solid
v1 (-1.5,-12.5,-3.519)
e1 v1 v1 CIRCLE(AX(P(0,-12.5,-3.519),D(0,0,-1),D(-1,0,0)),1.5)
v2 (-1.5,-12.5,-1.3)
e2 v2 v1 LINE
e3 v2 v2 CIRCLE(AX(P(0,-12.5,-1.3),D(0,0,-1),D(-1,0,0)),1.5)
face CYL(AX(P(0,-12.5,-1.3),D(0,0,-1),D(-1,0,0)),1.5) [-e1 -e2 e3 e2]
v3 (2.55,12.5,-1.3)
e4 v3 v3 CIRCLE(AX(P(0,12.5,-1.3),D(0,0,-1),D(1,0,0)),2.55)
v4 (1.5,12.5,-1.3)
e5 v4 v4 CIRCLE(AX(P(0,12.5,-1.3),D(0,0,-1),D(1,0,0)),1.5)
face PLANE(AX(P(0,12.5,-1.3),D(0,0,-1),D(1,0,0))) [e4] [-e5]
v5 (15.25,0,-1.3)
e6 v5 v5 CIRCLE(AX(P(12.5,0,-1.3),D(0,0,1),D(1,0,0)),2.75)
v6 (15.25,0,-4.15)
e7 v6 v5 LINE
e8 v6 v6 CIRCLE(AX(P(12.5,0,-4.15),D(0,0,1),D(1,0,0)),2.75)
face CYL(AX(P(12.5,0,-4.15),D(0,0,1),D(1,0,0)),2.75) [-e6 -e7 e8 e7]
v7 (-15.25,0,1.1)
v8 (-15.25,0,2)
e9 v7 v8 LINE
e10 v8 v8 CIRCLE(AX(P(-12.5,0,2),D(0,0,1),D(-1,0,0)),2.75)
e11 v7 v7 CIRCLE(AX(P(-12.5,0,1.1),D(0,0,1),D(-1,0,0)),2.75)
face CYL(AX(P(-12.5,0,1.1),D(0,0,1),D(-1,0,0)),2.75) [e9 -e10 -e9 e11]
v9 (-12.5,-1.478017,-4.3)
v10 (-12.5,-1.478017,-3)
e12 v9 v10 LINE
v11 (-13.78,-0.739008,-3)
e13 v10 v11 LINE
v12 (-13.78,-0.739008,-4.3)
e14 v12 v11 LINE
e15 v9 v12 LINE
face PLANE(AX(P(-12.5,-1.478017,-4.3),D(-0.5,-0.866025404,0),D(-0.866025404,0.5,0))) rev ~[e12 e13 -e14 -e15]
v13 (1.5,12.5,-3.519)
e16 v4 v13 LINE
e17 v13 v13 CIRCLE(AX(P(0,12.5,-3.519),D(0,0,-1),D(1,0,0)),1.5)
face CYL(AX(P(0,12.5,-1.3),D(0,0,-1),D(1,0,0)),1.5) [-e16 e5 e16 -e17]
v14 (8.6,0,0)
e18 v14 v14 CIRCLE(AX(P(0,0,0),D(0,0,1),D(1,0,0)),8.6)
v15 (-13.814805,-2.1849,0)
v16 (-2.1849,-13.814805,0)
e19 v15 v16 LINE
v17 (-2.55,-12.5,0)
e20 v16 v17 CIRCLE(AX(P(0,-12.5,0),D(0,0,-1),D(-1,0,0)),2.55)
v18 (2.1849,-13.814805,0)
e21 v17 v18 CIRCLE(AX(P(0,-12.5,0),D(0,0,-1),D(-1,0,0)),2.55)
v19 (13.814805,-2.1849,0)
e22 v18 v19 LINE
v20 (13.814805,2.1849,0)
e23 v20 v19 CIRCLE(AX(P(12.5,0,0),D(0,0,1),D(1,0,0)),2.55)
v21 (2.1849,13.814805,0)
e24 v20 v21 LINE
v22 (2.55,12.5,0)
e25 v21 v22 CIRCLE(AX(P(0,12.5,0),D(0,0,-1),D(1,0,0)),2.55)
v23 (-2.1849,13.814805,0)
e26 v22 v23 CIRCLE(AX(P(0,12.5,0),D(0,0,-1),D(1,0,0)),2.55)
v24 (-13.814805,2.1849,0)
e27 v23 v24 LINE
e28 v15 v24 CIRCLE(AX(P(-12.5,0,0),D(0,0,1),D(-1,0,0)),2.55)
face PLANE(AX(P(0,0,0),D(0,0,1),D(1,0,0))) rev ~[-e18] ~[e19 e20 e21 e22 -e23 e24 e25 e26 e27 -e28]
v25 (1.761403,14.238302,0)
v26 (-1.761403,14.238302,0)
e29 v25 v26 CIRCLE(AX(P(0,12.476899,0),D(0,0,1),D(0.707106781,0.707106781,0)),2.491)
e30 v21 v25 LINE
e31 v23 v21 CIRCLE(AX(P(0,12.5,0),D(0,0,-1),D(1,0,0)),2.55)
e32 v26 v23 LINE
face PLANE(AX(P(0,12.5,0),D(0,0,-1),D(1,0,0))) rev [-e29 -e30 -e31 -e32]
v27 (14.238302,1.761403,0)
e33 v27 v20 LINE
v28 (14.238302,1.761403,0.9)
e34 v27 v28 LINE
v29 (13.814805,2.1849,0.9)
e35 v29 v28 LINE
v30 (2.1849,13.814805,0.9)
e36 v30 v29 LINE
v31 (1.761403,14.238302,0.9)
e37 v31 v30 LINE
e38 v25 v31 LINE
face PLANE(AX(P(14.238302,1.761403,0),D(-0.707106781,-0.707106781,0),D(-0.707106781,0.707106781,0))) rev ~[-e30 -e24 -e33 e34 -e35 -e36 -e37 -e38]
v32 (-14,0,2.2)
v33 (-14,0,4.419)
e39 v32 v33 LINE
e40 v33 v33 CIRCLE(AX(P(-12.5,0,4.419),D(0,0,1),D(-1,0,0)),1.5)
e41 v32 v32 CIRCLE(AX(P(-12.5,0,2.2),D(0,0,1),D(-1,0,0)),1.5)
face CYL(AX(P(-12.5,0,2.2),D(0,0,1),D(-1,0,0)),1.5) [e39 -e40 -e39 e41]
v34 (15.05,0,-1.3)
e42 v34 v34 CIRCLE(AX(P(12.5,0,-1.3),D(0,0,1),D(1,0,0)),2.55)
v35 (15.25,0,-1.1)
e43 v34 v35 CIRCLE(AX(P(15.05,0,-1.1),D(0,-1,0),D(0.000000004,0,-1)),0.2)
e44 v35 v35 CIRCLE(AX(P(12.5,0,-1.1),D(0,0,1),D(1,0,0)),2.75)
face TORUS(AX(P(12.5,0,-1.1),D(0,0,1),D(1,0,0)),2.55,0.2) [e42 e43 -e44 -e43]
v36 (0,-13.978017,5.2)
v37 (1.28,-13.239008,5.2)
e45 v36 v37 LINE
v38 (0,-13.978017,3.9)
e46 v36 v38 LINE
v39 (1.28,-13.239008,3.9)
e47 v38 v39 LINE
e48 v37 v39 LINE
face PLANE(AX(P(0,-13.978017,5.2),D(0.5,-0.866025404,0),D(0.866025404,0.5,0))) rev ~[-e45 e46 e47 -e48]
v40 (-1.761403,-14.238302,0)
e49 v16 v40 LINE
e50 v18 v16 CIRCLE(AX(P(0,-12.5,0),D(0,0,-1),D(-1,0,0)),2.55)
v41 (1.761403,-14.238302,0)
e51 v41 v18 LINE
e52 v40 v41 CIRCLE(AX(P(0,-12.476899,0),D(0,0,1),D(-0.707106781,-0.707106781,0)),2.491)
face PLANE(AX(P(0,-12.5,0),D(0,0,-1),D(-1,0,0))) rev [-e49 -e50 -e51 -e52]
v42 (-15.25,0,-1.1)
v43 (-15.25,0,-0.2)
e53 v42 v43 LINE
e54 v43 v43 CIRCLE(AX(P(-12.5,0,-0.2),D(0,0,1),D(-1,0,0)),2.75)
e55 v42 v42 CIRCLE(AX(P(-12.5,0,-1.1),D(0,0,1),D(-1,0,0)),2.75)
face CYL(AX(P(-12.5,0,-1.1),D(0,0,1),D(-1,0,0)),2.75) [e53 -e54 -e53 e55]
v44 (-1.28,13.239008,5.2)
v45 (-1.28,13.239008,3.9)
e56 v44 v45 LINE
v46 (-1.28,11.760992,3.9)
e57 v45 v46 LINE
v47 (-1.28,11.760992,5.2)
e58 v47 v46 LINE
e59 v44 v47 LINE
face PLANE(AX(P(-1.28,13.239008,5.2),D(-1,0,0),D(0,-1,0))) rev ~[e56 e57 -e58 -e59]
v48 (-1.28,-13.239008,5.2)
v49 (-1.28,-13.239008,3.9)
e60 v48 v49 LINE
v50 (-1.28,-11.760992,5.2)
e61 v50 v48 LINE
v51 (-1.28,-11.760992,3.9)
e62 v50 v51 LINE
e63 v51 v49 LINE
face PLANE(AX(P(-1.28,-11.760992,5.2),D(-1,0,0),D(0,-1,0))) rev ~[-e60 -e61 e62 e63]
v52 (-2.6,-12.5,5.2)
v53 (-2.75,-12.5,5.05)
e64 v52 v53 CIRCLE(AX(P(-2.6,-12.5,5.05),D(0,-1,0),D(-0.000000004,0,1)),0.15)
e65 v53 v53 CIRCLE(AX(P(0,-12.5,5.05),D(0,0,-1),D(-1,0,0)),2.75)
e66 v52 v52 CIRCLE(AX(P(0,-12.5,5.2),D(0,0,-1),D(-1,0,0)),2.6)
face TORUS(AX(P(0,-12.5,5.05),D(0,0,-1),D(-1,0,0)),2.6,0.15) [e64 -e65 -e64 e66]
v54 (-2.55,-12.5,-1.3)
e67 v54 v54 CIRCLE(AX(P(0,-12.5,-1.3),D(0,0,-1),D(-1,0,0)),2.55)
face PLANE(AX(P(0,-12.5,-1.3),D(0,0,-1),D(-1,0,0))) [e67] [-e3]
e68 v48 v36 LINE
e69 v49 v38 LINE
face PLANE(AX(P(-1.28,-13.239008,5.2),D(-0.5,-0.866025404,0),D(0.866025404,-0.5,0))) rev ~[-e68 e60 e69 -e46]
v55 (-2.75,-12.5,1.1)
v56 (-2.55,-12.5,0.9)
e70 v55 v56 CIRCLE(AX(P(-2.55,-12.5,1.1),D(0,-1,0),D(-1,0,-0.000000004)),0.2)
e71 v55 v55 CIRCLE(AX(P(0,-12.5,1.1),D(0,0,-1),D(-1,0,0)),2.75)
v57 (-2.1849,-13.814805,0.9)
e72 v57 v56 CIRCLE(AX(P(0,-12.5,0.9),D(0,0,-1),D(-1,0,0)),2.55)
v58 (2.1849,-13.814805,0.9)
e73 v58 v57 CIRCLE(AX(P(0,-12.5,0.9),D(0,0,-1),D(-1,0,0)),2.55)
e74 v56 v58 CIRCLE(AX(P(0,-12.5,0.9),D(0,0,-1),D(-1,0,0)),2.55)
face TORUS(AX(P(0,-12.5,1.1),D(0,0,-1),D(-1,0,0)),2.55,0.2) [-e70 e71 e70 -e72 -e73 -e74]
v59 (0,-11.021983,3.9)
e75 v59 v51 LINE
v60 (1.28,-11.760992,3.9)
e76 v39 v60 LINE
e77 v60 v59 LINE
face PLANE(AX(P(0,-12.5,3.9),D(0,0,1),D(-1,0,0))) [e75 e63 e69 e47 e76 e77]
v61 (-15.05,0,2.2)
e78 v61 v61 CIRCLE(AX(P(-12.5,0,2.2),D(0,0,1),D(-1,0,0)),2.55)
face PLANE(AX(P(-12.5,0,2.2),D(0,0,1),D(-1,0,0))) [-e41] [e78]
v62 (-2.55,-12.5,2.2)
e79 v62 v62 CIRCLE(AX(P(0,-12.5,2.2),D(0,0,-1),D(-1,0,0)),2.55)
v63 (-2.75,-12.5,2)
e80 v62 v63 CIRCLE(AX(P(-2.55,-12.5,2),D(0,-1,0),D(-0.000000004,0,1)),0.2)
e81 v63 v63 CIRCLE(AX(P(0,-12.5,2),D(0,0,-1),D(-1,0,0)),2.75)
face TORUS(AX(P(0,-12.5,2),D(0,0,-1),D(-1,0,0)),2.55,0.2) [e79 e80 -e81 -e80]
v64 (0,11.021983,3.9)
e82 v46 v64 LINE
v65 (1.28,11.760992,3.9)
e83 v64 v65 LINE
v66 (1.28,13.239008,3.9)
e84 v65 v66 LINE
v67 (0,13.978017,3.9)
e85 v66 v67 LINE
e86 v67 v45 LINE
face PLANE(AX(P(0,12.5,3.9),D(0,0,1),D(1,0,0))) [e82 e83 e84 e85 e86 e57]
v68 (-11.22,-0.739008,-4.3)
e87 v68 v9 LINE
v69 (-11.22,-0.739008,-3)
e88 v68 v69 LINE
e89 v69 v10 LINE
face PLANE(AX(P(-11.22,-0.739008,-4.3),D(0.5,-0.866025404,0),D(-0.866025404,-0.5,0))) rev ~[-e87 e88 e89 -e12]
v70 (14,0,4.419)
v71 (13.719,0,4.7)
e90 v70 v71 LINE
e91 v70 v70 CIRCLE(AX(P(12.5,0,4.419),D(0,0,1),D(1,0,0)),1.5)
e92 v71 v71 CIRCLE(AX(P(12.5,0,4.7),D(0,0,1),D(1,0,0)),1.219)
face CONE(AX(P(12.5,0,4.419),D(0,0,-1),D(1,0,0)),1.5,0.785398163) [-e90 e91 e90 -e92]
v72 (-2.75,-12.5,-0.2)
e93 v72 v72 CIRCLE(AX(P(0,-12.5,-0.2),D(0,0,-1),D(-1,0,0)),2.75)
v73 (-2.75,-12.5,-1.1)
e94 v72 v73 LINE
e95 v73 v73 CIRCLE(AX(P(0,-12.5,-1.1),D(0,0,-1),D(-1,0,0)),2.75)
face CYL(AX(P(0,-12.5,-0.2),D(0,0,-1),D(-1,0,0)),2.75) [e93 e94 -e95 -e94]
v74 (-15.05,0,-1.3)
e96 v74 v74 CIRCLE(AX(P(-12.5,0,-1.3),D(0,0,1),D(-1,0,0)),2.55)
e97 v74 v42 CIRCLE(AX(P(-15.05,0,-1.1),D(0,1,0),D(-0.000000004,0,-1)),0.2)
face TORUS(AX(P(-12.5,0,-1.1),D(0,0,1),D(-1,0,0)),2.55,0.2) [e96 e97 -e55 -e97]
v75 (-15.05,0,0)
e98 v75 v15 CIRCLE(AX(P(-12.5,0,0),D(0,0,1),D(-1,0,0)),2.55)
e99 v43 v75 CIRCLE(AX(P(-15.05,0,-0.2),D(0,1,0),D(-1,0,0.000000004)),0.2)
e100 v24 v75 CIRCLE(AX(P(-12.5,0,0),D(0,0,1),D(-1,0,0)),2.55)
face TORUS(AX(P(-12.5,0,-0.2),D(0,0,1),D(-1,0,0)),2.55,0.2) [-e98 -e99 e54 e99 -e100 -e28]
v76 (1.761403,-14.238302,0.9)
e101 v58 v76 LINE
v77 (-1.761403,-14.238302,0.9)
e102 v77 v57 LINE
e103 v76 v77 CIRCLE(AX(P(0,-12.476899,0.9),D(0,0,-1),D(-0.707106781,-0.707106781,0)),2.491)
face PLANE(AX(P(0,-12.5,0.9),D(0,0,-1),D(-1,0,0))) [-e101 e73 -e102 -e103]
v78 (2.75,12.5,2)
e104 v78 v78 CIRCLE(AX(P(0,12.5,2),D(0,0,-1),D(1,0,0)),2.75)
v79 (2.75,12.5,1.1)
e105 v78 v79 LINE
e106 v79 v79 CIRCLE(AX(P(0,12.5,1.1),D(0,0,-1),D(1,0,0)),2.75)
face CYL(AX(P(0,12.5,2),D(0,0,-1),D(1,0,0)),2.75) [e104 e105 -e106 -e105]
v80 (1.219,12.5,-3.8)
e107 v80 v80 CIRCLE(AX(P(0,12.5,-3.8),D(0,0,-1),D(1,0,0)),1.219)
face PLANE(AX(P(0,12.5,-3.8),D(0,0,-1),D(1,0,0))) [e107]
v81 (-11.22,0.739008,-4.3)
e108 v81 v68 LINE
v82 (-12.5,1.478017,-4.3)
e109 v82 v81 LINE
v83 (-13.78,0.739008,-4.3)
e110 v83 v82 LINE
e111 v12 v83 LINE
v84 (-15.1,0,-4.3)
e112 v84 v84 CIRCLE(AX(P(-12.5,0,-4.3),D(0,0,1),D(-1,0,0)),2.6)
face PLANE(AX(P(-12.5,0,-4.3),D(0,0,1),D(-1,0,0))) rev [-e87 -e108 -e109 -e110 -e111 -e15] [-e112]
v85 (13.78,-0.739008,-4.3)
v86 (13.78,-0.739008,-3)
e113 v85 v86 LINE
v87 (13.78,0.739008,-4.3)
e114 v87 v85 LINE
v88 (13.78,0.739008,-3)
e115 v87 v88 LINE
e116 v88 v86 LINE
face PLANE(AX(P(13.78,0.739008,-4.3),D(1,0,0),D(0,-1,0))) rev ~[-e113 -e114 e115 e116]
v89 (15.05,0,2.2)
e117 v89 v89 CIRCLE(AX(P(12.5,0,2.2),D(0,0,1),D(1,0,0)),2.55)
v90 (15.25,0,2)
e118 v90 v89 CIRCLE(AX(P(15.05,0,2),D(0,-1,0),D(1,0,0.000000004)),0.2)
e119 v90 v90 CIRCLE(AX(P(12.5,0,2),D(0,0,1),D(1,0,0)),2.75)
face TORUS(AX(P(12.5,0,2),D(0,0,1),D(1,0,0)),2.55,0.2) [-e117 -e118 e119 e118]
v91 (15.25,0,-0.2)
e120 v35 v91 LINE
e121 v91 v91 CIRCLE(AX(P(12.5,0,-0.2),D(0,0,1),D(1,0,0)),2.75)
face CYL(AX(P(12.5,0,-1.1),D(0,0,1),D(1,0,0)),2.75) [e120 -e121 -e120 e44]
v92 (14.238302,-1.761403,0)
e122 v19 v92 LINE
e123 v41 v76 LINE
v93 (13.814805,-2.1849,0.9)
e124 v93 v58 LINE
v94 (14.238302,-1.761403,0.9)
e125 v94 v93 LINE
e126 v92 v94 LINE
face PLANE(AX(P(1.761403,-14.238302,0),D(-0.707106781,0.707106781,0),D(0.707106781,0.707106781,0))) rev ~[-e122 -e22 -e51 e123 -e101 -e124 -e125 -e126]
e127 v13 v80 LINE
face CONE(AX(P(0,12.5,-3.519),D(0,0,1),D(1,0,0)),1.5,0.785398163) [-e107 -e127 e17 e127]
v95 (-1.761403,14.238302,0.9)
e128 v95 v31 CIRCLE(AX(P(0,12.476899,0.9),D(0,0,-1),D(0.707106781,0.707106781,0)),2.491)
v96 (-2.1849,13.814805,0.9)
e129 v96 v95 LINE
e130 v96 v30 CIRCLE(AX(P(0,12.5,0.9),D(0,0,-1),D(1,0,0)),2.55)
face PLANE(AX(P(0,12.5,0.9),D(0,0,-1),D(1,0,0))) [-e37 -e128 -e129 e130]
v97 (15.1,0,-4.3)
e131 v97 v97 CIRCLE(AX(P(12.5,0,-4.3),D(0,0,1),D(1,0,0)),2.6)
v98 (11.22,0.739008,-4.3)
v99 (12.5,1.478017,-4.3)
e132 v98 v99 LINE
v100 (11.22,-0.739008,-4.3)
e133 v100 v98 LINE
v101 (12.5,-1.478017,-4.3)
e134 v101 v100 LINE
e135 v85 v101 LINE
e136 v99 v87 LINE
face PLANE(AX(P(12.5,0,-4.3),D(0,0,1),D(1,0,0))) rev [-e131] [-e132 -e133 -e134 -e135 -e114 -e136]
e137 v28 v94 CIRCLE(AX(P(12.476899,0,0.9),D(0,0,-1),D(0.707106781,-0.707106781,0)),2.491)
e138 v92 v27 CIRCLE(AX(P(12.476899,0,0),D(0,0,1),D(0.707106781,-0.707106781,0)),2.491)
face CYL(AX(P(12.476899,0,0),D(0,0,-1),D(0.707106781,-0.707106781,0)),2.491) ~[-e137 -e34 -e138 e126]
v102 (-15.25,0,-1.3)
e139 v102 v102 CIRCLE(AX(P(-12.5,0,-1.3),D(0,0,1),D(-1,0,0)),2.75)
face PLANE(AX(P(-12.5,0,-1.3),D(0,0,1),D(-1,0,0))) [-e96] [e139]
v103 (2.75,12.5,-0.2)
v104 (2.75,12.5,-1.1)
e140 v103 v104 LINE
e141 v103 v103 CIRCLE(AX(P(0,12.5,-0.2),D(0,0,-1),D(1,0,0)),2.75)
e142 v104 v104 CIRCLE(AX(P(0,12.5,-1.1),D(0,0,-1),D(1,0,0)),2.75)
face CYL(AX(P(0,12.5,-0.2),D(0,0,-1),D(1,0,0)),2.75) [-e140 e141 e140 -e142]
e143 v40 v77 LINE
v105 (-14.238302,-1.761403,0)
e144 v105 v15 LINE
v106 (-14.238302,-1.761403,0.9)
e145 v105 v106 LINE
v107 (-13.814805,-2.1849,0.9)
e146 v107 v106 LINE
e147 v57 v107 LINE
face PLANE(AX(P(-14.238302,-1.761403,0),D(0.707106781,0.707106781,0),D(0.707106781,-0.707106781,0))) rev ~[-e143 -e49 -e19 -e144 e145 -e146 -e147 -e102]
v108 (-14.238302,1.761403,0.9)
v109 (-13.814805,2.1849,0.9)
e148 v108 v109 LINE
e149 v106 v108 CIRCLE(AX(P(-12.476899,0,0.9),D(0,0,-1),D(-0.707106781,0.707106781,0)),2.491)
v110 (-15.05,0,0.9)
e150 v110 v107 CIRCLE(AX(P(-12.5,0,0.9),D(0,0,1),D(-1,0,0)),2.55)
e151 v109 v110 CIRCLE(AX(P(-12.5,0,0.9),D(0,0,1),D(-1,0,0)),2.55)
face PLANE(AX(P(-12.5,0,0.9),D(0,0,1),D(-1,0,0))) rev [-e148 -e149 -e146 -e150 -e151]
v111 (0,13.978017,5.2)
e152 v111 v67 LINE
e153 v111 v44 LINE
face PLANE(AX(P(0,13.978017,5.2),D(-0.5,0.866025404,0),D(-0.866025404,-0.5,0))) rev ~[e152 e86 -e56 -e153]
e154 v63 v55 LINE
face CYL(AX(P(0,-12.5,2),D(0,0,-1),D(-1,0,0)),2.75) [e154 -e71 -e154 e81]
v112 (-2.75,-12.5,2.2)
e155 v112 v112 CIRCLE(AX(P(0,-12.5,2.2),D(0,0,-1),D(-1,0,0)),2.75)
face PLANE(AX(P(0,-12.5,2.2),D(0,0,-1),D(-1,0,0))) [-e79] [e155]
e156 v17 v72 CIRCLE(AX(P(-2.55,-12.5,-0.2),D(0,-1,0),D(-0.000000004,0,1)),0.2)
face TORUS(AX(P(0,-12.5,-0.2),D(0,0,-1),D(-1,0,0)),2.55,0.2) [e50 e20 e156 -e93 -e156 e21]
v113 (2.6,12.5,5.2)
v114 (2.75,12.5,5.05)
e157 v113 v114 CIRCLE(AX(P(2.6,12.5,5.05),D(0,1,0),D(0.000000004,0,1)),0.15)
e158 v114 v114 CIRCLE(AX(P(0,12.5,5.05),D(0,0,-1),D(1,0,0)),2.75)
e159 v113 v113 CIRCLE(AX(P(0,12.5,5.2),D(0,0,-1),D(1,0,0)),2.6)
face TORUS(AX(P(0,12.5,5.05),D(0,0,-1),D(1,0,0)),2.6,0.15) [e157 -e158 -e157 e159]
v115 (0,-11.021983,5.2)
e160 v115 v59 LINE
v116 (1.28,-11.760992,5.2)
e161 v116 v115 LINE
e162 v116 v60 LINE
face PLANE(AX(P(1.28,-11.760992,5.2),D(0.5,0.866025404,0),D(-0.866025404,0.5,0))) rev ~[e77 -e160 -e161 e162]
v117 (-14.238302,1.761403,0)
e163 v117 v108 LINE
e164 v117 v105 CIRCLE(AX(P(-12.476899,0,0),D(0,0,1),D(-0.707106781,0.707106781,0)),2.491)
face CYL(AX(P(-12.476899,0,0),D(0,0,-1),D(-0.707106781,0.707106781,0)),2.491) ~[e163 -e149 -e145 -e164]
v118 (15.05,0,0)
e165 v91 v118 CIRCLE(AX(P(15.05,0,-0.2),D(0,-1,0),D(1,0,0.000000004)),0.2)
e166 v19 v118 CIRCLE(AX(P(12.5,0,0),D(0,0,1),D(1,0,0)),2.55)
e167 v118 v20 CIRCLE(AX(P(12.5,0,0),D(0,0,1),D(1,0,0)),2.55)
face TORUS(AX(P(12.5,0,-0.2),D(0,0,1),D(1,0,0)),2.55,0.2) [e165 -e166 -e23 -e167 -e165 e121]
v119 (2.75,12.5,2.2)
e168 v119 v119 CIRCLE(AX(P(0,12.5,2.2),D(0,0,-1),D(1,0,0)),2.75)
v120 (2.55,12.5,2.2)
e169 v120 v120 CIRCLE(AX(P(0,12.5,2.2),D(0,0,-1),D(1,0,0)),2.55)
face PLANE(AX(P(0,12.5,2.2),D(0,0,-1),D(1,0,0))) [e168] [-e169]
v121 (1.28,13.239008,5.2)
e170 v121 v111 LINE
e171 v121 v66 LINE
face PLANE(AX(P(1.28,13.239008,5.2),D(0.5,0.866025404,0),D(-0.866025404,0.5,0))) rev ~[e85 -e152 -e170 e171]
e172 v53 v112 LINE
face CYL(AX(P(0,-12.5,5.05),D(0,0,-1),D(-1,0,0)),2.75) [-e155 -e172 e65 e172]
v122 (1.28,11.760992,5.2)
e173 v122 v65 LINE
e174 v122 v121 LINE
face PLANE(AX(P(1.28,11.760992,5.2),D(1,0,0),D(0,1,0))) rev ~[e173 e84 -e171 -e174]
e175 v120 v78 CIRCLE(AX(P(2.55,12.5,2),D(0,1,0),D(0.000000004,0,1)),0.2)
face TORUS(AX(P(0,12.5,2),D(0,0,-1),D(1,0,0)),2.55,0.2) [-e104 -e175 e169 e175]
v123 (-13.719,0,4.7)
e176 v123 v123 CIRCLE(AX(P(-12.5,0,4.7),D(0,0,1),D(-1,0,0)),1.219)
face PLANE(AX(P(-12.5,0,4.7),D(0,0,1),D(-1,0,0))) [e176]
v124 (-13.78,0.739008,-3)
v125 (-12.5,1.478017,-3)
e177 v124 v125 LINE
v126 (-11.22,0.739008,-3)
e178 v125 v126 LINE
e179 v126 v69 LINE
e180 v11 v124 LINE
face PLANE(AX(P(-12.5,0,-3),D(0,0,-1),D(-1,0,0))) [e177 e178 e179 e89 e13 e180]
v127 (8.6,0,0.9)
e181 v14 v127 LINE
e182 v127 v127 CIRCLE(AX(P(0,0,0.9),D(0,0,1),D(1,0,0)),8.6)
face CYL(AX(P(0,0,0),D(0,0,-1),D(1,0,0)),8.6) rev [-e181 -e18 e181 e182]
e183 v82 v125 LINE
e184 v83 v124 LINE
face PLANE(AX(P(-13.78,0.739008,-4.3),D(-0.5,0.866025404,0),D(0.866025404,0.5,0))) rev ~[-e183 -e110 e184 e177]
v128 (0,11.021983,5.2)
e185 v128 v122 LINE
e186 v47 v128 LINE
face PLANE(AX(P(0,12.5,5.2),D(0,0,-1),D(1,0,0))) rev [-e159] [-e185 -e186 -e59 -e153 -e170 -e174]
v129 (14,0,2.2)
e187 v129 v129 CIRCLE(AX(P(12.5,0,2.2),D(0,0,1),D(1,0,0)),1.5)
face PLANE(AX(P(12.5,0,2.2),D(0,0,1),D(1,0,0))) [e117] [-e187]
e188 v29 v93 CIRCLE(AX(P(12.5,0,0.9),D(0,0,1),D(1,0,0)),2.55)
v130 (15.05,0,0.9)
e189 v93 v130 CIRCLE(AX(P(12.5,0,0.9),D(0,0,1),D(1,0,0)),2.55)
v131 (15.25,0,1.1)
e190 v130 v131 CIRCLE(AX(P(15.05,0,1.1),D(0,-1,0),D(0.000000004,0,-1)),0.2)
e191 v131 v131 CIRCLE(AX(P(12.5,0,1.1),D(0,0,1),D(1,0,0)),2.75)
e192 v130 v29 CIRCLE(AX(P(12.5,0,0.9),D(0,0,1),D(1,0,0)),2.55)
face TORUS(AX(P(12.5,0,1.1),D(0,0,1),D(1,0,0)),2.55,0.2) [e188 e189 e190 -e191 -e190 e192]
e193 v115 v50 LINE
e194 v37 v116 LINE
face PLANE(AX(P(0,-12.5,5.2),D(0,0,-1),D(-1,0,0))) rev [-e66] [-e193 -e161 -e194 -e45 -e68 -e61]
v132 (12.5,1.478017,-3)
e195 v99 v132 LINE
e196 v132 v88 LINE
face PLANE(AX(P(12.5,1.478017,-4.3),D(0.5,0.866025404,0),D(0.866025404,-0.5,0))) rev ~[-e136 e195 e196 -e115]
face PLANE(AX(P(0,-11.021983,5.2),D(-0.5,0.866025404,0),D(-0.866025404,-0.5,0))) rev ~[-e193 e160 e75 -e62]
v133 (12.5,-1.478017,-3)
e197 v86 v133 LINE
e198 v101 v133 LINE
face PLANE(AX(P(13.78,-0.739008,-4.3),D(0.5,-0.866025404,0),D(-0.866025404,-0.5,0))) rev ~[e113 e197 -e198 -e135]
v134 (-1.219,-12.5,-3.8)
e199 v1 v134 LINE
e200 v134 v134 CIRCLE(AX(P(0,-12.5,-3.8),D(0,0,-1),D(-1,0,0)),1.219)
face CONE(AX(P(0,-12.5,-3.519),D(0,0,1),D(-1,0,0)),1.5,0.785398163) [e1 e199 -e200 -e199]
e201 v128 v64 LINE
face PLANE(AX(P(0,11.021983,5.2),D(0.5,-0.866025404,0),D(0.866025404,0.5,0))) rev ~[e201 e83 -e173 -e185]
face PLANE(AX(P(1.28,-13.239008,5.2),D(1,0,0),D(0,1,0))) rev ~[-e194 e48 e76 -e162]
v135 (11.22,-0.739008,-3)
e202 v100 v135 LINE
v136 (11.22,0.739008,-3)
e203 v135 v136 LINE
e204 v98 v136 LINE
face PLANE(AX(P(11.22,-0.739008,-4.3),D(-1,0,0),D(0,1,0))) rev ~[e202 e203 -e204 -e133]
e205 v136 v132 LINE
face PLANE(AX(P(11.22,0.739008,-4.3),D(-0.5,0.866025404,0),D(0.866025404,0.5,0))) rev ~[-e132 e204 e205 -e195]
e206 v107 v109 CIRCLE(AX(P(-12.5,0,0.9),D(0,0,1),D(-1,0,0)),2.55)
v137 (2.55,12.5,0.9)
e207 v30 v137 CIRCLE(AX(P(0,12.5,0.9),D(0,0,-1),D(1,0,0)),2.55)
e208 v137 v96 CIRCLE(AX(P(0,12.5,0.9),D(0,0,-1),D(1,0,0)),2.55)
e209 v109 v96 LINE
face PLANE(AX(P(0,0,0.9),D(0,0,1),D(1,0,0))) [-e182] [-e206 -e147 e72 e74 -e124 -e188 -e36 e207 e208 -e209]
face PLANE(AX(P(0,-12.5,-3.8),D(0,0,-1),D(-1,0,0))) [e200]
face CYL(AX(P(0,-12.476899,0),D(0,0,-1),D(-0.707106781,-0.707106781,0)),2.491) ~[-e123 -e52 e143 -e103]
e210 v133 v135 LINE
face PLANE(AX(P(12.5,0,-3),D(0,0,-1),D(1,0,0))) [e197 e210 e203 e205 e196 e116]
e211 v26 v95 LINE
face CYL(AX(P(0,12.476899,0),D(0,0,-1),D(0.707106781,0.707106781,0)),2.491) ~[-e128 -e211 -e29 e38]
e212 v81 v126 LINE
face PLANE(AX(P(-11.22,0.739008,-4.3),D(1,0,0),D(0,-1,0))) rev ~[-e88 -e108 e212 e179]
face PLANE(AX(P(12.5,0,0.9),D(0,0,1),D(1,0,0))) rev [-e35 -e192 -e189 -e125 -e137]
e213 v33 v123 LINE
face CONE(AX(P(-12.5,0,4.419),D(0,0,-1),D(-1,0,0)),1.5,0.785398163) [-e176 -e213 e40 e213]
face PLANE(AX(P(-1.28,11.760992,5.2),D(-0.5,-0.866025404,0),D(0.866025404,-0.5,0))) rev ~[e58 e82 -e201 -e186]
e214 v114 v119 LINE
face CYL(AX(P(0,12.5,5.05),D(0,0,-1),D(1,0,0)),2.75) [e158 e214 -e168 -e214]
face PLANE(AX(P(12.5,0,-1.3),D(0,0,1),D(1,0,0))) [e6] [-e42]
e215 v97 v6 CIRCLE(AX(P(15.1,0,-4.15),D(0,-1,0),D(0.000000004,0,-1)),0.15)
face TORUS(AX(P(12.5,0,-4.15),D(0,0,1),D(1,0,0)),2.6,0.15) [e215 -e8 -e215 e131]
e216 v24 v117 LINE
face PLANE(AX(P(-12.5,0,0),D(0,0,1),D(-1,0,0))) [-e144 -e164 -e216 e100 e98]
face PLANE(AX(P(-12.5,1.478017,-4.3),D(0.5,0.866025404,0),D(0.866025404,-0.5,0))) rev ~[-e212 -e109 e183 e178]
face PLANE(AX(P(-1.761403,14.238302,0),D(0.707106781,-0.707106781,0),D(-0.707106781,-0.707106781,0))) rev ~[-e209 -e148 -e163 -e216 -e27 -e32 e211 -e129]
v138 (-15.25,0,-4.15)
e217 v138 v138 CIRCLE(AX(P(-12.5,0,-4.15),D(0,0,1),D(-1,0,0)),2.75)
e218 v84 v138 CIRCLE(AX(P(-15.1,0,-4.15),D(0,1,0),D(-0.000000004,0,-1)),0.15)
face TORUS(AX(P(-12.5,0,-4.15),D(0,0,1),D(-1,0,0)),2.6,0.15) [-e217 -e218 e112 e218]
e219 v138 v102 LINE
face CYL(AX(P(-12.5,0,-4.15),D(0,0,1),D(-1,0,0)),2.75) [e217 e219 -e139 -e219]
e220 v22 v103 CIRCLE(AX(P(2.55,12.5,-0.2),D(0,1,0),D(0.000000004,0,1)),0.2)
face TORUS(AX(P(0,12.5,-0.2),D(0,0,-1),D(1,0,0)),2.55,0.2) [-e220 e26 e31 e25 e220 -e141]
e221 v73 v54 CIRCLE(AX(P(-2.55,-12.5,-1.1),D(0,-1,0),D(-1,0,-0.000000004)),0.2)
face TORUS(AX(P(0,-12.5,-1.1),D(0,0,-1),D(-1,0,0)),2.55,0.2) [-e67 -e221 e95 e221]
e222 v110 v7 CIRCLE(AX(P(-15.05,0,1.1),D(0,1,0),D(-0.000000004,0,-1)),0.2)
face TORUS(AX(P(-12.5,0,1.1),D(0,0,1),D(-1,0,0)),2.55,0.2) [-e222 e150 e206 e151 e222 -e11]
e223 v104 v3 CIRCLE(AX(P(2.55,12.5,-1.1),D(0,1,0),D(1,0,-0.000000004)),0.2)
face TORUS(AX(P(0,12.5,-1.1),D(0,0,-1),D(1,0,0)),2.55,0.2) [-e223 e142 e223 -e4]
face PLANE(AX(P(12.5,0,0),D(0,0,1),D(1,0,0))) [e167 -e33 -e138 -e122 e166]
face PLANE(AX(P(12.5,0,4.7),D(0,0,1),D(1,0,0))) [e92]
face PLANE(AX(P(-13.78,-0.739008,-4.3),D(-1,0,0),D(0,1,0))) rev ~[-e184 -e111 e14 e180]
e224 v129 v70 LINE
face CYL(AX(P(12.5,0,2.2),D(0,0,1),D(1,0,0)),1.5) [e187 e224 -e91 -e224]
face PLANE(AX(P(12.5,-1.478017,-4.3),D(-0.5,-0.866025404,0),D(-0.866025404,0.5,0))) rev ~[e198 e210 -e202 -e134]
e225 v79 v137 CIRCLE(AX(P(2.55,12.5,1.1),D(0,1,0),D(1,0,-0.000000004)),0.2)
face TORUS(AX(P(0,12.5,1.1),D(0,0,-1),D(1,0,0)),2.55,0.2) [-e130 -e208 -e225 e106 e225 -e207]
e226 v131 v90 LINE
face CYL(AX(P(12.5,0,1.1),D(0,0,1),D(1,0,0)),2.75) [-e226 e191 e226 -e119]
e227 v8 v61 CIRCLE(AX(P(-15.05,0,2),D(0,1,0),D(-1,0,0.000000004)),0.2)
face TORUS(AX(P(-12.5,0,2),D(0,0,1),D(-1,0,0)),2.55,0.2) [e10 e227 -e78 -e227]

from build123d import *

# Parameters (mm, degrees)
SKETCH1_R           = 16
SKETCH1_R_2         = 8.6
BOSS_EXTRUDE1_DEPTH = 0.9
SKETCH7_OUTSIDE_W   = 43.052
SKETCH7_OUTSIDE_H   = 43.052
CUT_EXTRUDE14_DEPTH = 23.645308565
CUT_EXTRUDE1_DEPTH  = 1.3
CUT_EXTRUDE2_DEPTH  = 1.3
CIRPATTERN1_COUNT   = 2


with BuildPart() as part:
    # Sketch1 → Boss-Extrude1 (new body)
    with BuildSketch(Plane.XY):
        Circle(SKETCH1_R)
        Circle(SKETCH1_R_2, mode=Mode.SUBTRACT)
    extrude(amount=BOSS_EXTRUDE1_DEPTH)

    # Sketch7 outside → Cut-Extrude14 (cut, through all)
    with BuildSketch(Plane.XY):
        Rectangle(SKETCH7_OUTSIDE_W, SKETCH7_OUTSIDE_H)
        with BuildLine():
            Line((-1.761402992, 14.238302146), (-14.238302146, 1.761402992))
            ThreePointArc((-14.238302146, 1.761402992), (-14.967899154, 0), (-14.238302146, -1.761402992))
            Line((-14.238302146, -1.761402992), (-1.761402992, -14.238302146))
            ThreePointArc((-1.761402992, -14.238302146), (0, -14.967899154), (1.761402992, -14.238302146))
            Line((1.761402992, -14.238302146), (14.238302146, -1.761402992))
            ThreePointArc((14.238302146, -1.761402992), (14.967899154, 0), (14.238302146, 1.761402992))
            Line((14.238302146, 1.761402992), (1.761402992, 14.238302146))
            ThreePointArc((1.761402992, 14.238302146), (0, 14.967899154), (-1.761402992, 14.238302146))
        make_face(mode=Mode.SUBTRACT)
    extrude(amount=CUT_EXTRUDE14_DEPTH, mode=Mode.SUBTRACT)

    # Sketch2 → Revolve1 (revolve)
    with BuildSketch(Plane.ZY, mode=Mode.PRIVATE) as revolve1_sk:
        with BuildLine():
            Line((5.2, 12.5), (5.2, 15.1))
            ThreePointArc((5.2, 15.1), (5.156066017, 15.206066017), (5.05, 15.25))
            Line((5.05, 15.25), (2.2, 15.25))
            Line((2.2, 15.25), (2.2, 15.05))
            ThreePointArc((2.2, 15.05), (2.141421356, 15.191421356), (2, 15.25))
            Line((2, 15.25), (1.1, 15.25))
            ThreePointArc((1.1, 15.25), (0.958578644, 15.191421356), (0.9, 15.05))
            Line((0.9, 15.05), (0.9, 12.5))
            Line((0.9, 12.5), (5.2, 12.5))
        make_face()
        with BuildLine():
            Line((-3.519, 14), (-3.8, 13.719))
            Line((-3.8, 13.719), (-3.8, 12.5))
            Line((-3.8, 12.5), (0, 12.5))
            Line((0, 12.5), (0, 15.05))
            ThreePointArc((0, 15.05), (-0.058578644, 15.191421356), (-0.2, 15.25))
            Line((-0.2, 15.25), (-1.1, 15.25))
            ThreePointArc((-1.1, 15.25), (-1.241421356, 15.191421356), (-1.3, 15.05))
            Line((-1.3, 15.05), (-1.3, 14))
            Line((-1.3, 14), (-3.519, 14))
        make_face()
    revolve1 = revolve(revolve1_sk.sketch.rotate(Axis((0, 12.5, 5.2), (0, 0, -1)), 90), axis=Axis((0, 12.5, 5.2), (0, 0, -1)))

    # Sketch3 → Cut-Extrude1 (cut)
    with BuildSketch(Plane.XY.offset(5.2)):
        Polygon((0, 13.978016689), (-1.28, 13.239008345), (-1.28, 11.760991655), (0, 11.021983311), (1.28, 11.760991655), (1.28, 13.239008345), align=None)
    cut_extrude1 = extrude(amount=-CUT_EXTRUDE1_DEPTH, mode=Mode.SUBTRACT)

    # Sketch4 → Revolve2 (revolve)
    with BuildSketch(Plane(origin=(0, 0, 0), x_dir=(0, 0, 1), z_dir=(0, -1, 0))):
        with BuildLine():
            Line((-4.3, 12.5), (-4.3, 15.1))
            ThreePointArc((-4.3, 15.1), (-4.256066017, 15.206066017), (-4.15, 15.25))
            Line((-4.15, 15.25), (-1.3, 15.25))
            Line((-1.3, 15.25), (-1.3, 15.05))
            ThreePointArc((-1.3, 15.05), (-1.241421356, 15.191421356), (-1.1, 15.25))
            Line((-1.1, 15.25), (-0.2, 15.25))
            ThreePointArc((-0.2, 15.25), (-0.058578644, 15.191421356), (0, 15.05))
            Line((0, 15.05), (0, 12.5))
            Line((0, 12.5), (-4.3, 12.5))
        make_face()
        with BuildLine():
            Line((4.7, 12.5), (0.9, 12.5))
            Line((0.9, 12.5), (0.9, 15.05))
            ThreePointArc((0.9, 15.05), (0.958578644, 15.191421356), (1.1, 15.25))
            Line((1.1, 15.25), (2, 15.25))
            ThreePointArc((2, 15.25), (2.141421356, 15.191421356), (2.2, 15.05))
            Line((2.2, 15.05), (2.2, 14))
            Line((2.2, 14), (4.419, 14))
            Line((4.419, 14), (4.7, 13.719))
            Line((4.7, 13.719), (4.7, 12.5))
        make_face()
    revolve2 = revolve(axis=Axis((-12.5, 0, -4.3), (0, 0, 1)))

    # Sketch5 → Cut-Extrude2 (cut)
    with BuildSketch(Plane(origin=(0, 0, -4.3), x_dir=(-1, 0, 0), z_dir=(0, 0, -1))):
        Polygon((12.5, 1.478016689), (11.22, 0.739008345), (11.22, -0.739008345), (12.5, -1.478016689), (13.78, -0.739008345), (13.78, 0.739008345), align=None)
    cut_extrude2 = extrude(amount=-CUT_EXTRUDE2_DEPTH, mode=Mode.SUBTRACT)

    # CirPattern1: Revolve1, Cut-Extrude1, Revolve2, Cut-Extrude2 ×2 about axis
    cirpattern1_axis = Axis((0, 0, 0), (0, 0, 1))
    add([revolve1.rotate(cirpattern1_axis, i * 360 / CIRPATTERN1_COUNT) for i in range(1, CIRPATTERN1_COUNT)])
    add([cut_extrude1.rotate(cirpattern1_axis, i * 360 / CIRPATTERN1_COUNT) for i in range(1, CIRPATTERN1_COUNT)], mode=Mode.SUBTRACT)
    add([revolve2.rotate(cirpattern1_axis, i * 360 / CIRPATTERN1_COUNT) for i in range(1, CIRPATTERN1_COUNT)])
    add([cut_extrude2.rotate(cirpattern1_axis, i * 360 / CIRPATTERN1_COUNT) for i in range(1, CIRPATTERN1_COUNT)], mode=Mode.SUBTRACT)


solid = part.part
